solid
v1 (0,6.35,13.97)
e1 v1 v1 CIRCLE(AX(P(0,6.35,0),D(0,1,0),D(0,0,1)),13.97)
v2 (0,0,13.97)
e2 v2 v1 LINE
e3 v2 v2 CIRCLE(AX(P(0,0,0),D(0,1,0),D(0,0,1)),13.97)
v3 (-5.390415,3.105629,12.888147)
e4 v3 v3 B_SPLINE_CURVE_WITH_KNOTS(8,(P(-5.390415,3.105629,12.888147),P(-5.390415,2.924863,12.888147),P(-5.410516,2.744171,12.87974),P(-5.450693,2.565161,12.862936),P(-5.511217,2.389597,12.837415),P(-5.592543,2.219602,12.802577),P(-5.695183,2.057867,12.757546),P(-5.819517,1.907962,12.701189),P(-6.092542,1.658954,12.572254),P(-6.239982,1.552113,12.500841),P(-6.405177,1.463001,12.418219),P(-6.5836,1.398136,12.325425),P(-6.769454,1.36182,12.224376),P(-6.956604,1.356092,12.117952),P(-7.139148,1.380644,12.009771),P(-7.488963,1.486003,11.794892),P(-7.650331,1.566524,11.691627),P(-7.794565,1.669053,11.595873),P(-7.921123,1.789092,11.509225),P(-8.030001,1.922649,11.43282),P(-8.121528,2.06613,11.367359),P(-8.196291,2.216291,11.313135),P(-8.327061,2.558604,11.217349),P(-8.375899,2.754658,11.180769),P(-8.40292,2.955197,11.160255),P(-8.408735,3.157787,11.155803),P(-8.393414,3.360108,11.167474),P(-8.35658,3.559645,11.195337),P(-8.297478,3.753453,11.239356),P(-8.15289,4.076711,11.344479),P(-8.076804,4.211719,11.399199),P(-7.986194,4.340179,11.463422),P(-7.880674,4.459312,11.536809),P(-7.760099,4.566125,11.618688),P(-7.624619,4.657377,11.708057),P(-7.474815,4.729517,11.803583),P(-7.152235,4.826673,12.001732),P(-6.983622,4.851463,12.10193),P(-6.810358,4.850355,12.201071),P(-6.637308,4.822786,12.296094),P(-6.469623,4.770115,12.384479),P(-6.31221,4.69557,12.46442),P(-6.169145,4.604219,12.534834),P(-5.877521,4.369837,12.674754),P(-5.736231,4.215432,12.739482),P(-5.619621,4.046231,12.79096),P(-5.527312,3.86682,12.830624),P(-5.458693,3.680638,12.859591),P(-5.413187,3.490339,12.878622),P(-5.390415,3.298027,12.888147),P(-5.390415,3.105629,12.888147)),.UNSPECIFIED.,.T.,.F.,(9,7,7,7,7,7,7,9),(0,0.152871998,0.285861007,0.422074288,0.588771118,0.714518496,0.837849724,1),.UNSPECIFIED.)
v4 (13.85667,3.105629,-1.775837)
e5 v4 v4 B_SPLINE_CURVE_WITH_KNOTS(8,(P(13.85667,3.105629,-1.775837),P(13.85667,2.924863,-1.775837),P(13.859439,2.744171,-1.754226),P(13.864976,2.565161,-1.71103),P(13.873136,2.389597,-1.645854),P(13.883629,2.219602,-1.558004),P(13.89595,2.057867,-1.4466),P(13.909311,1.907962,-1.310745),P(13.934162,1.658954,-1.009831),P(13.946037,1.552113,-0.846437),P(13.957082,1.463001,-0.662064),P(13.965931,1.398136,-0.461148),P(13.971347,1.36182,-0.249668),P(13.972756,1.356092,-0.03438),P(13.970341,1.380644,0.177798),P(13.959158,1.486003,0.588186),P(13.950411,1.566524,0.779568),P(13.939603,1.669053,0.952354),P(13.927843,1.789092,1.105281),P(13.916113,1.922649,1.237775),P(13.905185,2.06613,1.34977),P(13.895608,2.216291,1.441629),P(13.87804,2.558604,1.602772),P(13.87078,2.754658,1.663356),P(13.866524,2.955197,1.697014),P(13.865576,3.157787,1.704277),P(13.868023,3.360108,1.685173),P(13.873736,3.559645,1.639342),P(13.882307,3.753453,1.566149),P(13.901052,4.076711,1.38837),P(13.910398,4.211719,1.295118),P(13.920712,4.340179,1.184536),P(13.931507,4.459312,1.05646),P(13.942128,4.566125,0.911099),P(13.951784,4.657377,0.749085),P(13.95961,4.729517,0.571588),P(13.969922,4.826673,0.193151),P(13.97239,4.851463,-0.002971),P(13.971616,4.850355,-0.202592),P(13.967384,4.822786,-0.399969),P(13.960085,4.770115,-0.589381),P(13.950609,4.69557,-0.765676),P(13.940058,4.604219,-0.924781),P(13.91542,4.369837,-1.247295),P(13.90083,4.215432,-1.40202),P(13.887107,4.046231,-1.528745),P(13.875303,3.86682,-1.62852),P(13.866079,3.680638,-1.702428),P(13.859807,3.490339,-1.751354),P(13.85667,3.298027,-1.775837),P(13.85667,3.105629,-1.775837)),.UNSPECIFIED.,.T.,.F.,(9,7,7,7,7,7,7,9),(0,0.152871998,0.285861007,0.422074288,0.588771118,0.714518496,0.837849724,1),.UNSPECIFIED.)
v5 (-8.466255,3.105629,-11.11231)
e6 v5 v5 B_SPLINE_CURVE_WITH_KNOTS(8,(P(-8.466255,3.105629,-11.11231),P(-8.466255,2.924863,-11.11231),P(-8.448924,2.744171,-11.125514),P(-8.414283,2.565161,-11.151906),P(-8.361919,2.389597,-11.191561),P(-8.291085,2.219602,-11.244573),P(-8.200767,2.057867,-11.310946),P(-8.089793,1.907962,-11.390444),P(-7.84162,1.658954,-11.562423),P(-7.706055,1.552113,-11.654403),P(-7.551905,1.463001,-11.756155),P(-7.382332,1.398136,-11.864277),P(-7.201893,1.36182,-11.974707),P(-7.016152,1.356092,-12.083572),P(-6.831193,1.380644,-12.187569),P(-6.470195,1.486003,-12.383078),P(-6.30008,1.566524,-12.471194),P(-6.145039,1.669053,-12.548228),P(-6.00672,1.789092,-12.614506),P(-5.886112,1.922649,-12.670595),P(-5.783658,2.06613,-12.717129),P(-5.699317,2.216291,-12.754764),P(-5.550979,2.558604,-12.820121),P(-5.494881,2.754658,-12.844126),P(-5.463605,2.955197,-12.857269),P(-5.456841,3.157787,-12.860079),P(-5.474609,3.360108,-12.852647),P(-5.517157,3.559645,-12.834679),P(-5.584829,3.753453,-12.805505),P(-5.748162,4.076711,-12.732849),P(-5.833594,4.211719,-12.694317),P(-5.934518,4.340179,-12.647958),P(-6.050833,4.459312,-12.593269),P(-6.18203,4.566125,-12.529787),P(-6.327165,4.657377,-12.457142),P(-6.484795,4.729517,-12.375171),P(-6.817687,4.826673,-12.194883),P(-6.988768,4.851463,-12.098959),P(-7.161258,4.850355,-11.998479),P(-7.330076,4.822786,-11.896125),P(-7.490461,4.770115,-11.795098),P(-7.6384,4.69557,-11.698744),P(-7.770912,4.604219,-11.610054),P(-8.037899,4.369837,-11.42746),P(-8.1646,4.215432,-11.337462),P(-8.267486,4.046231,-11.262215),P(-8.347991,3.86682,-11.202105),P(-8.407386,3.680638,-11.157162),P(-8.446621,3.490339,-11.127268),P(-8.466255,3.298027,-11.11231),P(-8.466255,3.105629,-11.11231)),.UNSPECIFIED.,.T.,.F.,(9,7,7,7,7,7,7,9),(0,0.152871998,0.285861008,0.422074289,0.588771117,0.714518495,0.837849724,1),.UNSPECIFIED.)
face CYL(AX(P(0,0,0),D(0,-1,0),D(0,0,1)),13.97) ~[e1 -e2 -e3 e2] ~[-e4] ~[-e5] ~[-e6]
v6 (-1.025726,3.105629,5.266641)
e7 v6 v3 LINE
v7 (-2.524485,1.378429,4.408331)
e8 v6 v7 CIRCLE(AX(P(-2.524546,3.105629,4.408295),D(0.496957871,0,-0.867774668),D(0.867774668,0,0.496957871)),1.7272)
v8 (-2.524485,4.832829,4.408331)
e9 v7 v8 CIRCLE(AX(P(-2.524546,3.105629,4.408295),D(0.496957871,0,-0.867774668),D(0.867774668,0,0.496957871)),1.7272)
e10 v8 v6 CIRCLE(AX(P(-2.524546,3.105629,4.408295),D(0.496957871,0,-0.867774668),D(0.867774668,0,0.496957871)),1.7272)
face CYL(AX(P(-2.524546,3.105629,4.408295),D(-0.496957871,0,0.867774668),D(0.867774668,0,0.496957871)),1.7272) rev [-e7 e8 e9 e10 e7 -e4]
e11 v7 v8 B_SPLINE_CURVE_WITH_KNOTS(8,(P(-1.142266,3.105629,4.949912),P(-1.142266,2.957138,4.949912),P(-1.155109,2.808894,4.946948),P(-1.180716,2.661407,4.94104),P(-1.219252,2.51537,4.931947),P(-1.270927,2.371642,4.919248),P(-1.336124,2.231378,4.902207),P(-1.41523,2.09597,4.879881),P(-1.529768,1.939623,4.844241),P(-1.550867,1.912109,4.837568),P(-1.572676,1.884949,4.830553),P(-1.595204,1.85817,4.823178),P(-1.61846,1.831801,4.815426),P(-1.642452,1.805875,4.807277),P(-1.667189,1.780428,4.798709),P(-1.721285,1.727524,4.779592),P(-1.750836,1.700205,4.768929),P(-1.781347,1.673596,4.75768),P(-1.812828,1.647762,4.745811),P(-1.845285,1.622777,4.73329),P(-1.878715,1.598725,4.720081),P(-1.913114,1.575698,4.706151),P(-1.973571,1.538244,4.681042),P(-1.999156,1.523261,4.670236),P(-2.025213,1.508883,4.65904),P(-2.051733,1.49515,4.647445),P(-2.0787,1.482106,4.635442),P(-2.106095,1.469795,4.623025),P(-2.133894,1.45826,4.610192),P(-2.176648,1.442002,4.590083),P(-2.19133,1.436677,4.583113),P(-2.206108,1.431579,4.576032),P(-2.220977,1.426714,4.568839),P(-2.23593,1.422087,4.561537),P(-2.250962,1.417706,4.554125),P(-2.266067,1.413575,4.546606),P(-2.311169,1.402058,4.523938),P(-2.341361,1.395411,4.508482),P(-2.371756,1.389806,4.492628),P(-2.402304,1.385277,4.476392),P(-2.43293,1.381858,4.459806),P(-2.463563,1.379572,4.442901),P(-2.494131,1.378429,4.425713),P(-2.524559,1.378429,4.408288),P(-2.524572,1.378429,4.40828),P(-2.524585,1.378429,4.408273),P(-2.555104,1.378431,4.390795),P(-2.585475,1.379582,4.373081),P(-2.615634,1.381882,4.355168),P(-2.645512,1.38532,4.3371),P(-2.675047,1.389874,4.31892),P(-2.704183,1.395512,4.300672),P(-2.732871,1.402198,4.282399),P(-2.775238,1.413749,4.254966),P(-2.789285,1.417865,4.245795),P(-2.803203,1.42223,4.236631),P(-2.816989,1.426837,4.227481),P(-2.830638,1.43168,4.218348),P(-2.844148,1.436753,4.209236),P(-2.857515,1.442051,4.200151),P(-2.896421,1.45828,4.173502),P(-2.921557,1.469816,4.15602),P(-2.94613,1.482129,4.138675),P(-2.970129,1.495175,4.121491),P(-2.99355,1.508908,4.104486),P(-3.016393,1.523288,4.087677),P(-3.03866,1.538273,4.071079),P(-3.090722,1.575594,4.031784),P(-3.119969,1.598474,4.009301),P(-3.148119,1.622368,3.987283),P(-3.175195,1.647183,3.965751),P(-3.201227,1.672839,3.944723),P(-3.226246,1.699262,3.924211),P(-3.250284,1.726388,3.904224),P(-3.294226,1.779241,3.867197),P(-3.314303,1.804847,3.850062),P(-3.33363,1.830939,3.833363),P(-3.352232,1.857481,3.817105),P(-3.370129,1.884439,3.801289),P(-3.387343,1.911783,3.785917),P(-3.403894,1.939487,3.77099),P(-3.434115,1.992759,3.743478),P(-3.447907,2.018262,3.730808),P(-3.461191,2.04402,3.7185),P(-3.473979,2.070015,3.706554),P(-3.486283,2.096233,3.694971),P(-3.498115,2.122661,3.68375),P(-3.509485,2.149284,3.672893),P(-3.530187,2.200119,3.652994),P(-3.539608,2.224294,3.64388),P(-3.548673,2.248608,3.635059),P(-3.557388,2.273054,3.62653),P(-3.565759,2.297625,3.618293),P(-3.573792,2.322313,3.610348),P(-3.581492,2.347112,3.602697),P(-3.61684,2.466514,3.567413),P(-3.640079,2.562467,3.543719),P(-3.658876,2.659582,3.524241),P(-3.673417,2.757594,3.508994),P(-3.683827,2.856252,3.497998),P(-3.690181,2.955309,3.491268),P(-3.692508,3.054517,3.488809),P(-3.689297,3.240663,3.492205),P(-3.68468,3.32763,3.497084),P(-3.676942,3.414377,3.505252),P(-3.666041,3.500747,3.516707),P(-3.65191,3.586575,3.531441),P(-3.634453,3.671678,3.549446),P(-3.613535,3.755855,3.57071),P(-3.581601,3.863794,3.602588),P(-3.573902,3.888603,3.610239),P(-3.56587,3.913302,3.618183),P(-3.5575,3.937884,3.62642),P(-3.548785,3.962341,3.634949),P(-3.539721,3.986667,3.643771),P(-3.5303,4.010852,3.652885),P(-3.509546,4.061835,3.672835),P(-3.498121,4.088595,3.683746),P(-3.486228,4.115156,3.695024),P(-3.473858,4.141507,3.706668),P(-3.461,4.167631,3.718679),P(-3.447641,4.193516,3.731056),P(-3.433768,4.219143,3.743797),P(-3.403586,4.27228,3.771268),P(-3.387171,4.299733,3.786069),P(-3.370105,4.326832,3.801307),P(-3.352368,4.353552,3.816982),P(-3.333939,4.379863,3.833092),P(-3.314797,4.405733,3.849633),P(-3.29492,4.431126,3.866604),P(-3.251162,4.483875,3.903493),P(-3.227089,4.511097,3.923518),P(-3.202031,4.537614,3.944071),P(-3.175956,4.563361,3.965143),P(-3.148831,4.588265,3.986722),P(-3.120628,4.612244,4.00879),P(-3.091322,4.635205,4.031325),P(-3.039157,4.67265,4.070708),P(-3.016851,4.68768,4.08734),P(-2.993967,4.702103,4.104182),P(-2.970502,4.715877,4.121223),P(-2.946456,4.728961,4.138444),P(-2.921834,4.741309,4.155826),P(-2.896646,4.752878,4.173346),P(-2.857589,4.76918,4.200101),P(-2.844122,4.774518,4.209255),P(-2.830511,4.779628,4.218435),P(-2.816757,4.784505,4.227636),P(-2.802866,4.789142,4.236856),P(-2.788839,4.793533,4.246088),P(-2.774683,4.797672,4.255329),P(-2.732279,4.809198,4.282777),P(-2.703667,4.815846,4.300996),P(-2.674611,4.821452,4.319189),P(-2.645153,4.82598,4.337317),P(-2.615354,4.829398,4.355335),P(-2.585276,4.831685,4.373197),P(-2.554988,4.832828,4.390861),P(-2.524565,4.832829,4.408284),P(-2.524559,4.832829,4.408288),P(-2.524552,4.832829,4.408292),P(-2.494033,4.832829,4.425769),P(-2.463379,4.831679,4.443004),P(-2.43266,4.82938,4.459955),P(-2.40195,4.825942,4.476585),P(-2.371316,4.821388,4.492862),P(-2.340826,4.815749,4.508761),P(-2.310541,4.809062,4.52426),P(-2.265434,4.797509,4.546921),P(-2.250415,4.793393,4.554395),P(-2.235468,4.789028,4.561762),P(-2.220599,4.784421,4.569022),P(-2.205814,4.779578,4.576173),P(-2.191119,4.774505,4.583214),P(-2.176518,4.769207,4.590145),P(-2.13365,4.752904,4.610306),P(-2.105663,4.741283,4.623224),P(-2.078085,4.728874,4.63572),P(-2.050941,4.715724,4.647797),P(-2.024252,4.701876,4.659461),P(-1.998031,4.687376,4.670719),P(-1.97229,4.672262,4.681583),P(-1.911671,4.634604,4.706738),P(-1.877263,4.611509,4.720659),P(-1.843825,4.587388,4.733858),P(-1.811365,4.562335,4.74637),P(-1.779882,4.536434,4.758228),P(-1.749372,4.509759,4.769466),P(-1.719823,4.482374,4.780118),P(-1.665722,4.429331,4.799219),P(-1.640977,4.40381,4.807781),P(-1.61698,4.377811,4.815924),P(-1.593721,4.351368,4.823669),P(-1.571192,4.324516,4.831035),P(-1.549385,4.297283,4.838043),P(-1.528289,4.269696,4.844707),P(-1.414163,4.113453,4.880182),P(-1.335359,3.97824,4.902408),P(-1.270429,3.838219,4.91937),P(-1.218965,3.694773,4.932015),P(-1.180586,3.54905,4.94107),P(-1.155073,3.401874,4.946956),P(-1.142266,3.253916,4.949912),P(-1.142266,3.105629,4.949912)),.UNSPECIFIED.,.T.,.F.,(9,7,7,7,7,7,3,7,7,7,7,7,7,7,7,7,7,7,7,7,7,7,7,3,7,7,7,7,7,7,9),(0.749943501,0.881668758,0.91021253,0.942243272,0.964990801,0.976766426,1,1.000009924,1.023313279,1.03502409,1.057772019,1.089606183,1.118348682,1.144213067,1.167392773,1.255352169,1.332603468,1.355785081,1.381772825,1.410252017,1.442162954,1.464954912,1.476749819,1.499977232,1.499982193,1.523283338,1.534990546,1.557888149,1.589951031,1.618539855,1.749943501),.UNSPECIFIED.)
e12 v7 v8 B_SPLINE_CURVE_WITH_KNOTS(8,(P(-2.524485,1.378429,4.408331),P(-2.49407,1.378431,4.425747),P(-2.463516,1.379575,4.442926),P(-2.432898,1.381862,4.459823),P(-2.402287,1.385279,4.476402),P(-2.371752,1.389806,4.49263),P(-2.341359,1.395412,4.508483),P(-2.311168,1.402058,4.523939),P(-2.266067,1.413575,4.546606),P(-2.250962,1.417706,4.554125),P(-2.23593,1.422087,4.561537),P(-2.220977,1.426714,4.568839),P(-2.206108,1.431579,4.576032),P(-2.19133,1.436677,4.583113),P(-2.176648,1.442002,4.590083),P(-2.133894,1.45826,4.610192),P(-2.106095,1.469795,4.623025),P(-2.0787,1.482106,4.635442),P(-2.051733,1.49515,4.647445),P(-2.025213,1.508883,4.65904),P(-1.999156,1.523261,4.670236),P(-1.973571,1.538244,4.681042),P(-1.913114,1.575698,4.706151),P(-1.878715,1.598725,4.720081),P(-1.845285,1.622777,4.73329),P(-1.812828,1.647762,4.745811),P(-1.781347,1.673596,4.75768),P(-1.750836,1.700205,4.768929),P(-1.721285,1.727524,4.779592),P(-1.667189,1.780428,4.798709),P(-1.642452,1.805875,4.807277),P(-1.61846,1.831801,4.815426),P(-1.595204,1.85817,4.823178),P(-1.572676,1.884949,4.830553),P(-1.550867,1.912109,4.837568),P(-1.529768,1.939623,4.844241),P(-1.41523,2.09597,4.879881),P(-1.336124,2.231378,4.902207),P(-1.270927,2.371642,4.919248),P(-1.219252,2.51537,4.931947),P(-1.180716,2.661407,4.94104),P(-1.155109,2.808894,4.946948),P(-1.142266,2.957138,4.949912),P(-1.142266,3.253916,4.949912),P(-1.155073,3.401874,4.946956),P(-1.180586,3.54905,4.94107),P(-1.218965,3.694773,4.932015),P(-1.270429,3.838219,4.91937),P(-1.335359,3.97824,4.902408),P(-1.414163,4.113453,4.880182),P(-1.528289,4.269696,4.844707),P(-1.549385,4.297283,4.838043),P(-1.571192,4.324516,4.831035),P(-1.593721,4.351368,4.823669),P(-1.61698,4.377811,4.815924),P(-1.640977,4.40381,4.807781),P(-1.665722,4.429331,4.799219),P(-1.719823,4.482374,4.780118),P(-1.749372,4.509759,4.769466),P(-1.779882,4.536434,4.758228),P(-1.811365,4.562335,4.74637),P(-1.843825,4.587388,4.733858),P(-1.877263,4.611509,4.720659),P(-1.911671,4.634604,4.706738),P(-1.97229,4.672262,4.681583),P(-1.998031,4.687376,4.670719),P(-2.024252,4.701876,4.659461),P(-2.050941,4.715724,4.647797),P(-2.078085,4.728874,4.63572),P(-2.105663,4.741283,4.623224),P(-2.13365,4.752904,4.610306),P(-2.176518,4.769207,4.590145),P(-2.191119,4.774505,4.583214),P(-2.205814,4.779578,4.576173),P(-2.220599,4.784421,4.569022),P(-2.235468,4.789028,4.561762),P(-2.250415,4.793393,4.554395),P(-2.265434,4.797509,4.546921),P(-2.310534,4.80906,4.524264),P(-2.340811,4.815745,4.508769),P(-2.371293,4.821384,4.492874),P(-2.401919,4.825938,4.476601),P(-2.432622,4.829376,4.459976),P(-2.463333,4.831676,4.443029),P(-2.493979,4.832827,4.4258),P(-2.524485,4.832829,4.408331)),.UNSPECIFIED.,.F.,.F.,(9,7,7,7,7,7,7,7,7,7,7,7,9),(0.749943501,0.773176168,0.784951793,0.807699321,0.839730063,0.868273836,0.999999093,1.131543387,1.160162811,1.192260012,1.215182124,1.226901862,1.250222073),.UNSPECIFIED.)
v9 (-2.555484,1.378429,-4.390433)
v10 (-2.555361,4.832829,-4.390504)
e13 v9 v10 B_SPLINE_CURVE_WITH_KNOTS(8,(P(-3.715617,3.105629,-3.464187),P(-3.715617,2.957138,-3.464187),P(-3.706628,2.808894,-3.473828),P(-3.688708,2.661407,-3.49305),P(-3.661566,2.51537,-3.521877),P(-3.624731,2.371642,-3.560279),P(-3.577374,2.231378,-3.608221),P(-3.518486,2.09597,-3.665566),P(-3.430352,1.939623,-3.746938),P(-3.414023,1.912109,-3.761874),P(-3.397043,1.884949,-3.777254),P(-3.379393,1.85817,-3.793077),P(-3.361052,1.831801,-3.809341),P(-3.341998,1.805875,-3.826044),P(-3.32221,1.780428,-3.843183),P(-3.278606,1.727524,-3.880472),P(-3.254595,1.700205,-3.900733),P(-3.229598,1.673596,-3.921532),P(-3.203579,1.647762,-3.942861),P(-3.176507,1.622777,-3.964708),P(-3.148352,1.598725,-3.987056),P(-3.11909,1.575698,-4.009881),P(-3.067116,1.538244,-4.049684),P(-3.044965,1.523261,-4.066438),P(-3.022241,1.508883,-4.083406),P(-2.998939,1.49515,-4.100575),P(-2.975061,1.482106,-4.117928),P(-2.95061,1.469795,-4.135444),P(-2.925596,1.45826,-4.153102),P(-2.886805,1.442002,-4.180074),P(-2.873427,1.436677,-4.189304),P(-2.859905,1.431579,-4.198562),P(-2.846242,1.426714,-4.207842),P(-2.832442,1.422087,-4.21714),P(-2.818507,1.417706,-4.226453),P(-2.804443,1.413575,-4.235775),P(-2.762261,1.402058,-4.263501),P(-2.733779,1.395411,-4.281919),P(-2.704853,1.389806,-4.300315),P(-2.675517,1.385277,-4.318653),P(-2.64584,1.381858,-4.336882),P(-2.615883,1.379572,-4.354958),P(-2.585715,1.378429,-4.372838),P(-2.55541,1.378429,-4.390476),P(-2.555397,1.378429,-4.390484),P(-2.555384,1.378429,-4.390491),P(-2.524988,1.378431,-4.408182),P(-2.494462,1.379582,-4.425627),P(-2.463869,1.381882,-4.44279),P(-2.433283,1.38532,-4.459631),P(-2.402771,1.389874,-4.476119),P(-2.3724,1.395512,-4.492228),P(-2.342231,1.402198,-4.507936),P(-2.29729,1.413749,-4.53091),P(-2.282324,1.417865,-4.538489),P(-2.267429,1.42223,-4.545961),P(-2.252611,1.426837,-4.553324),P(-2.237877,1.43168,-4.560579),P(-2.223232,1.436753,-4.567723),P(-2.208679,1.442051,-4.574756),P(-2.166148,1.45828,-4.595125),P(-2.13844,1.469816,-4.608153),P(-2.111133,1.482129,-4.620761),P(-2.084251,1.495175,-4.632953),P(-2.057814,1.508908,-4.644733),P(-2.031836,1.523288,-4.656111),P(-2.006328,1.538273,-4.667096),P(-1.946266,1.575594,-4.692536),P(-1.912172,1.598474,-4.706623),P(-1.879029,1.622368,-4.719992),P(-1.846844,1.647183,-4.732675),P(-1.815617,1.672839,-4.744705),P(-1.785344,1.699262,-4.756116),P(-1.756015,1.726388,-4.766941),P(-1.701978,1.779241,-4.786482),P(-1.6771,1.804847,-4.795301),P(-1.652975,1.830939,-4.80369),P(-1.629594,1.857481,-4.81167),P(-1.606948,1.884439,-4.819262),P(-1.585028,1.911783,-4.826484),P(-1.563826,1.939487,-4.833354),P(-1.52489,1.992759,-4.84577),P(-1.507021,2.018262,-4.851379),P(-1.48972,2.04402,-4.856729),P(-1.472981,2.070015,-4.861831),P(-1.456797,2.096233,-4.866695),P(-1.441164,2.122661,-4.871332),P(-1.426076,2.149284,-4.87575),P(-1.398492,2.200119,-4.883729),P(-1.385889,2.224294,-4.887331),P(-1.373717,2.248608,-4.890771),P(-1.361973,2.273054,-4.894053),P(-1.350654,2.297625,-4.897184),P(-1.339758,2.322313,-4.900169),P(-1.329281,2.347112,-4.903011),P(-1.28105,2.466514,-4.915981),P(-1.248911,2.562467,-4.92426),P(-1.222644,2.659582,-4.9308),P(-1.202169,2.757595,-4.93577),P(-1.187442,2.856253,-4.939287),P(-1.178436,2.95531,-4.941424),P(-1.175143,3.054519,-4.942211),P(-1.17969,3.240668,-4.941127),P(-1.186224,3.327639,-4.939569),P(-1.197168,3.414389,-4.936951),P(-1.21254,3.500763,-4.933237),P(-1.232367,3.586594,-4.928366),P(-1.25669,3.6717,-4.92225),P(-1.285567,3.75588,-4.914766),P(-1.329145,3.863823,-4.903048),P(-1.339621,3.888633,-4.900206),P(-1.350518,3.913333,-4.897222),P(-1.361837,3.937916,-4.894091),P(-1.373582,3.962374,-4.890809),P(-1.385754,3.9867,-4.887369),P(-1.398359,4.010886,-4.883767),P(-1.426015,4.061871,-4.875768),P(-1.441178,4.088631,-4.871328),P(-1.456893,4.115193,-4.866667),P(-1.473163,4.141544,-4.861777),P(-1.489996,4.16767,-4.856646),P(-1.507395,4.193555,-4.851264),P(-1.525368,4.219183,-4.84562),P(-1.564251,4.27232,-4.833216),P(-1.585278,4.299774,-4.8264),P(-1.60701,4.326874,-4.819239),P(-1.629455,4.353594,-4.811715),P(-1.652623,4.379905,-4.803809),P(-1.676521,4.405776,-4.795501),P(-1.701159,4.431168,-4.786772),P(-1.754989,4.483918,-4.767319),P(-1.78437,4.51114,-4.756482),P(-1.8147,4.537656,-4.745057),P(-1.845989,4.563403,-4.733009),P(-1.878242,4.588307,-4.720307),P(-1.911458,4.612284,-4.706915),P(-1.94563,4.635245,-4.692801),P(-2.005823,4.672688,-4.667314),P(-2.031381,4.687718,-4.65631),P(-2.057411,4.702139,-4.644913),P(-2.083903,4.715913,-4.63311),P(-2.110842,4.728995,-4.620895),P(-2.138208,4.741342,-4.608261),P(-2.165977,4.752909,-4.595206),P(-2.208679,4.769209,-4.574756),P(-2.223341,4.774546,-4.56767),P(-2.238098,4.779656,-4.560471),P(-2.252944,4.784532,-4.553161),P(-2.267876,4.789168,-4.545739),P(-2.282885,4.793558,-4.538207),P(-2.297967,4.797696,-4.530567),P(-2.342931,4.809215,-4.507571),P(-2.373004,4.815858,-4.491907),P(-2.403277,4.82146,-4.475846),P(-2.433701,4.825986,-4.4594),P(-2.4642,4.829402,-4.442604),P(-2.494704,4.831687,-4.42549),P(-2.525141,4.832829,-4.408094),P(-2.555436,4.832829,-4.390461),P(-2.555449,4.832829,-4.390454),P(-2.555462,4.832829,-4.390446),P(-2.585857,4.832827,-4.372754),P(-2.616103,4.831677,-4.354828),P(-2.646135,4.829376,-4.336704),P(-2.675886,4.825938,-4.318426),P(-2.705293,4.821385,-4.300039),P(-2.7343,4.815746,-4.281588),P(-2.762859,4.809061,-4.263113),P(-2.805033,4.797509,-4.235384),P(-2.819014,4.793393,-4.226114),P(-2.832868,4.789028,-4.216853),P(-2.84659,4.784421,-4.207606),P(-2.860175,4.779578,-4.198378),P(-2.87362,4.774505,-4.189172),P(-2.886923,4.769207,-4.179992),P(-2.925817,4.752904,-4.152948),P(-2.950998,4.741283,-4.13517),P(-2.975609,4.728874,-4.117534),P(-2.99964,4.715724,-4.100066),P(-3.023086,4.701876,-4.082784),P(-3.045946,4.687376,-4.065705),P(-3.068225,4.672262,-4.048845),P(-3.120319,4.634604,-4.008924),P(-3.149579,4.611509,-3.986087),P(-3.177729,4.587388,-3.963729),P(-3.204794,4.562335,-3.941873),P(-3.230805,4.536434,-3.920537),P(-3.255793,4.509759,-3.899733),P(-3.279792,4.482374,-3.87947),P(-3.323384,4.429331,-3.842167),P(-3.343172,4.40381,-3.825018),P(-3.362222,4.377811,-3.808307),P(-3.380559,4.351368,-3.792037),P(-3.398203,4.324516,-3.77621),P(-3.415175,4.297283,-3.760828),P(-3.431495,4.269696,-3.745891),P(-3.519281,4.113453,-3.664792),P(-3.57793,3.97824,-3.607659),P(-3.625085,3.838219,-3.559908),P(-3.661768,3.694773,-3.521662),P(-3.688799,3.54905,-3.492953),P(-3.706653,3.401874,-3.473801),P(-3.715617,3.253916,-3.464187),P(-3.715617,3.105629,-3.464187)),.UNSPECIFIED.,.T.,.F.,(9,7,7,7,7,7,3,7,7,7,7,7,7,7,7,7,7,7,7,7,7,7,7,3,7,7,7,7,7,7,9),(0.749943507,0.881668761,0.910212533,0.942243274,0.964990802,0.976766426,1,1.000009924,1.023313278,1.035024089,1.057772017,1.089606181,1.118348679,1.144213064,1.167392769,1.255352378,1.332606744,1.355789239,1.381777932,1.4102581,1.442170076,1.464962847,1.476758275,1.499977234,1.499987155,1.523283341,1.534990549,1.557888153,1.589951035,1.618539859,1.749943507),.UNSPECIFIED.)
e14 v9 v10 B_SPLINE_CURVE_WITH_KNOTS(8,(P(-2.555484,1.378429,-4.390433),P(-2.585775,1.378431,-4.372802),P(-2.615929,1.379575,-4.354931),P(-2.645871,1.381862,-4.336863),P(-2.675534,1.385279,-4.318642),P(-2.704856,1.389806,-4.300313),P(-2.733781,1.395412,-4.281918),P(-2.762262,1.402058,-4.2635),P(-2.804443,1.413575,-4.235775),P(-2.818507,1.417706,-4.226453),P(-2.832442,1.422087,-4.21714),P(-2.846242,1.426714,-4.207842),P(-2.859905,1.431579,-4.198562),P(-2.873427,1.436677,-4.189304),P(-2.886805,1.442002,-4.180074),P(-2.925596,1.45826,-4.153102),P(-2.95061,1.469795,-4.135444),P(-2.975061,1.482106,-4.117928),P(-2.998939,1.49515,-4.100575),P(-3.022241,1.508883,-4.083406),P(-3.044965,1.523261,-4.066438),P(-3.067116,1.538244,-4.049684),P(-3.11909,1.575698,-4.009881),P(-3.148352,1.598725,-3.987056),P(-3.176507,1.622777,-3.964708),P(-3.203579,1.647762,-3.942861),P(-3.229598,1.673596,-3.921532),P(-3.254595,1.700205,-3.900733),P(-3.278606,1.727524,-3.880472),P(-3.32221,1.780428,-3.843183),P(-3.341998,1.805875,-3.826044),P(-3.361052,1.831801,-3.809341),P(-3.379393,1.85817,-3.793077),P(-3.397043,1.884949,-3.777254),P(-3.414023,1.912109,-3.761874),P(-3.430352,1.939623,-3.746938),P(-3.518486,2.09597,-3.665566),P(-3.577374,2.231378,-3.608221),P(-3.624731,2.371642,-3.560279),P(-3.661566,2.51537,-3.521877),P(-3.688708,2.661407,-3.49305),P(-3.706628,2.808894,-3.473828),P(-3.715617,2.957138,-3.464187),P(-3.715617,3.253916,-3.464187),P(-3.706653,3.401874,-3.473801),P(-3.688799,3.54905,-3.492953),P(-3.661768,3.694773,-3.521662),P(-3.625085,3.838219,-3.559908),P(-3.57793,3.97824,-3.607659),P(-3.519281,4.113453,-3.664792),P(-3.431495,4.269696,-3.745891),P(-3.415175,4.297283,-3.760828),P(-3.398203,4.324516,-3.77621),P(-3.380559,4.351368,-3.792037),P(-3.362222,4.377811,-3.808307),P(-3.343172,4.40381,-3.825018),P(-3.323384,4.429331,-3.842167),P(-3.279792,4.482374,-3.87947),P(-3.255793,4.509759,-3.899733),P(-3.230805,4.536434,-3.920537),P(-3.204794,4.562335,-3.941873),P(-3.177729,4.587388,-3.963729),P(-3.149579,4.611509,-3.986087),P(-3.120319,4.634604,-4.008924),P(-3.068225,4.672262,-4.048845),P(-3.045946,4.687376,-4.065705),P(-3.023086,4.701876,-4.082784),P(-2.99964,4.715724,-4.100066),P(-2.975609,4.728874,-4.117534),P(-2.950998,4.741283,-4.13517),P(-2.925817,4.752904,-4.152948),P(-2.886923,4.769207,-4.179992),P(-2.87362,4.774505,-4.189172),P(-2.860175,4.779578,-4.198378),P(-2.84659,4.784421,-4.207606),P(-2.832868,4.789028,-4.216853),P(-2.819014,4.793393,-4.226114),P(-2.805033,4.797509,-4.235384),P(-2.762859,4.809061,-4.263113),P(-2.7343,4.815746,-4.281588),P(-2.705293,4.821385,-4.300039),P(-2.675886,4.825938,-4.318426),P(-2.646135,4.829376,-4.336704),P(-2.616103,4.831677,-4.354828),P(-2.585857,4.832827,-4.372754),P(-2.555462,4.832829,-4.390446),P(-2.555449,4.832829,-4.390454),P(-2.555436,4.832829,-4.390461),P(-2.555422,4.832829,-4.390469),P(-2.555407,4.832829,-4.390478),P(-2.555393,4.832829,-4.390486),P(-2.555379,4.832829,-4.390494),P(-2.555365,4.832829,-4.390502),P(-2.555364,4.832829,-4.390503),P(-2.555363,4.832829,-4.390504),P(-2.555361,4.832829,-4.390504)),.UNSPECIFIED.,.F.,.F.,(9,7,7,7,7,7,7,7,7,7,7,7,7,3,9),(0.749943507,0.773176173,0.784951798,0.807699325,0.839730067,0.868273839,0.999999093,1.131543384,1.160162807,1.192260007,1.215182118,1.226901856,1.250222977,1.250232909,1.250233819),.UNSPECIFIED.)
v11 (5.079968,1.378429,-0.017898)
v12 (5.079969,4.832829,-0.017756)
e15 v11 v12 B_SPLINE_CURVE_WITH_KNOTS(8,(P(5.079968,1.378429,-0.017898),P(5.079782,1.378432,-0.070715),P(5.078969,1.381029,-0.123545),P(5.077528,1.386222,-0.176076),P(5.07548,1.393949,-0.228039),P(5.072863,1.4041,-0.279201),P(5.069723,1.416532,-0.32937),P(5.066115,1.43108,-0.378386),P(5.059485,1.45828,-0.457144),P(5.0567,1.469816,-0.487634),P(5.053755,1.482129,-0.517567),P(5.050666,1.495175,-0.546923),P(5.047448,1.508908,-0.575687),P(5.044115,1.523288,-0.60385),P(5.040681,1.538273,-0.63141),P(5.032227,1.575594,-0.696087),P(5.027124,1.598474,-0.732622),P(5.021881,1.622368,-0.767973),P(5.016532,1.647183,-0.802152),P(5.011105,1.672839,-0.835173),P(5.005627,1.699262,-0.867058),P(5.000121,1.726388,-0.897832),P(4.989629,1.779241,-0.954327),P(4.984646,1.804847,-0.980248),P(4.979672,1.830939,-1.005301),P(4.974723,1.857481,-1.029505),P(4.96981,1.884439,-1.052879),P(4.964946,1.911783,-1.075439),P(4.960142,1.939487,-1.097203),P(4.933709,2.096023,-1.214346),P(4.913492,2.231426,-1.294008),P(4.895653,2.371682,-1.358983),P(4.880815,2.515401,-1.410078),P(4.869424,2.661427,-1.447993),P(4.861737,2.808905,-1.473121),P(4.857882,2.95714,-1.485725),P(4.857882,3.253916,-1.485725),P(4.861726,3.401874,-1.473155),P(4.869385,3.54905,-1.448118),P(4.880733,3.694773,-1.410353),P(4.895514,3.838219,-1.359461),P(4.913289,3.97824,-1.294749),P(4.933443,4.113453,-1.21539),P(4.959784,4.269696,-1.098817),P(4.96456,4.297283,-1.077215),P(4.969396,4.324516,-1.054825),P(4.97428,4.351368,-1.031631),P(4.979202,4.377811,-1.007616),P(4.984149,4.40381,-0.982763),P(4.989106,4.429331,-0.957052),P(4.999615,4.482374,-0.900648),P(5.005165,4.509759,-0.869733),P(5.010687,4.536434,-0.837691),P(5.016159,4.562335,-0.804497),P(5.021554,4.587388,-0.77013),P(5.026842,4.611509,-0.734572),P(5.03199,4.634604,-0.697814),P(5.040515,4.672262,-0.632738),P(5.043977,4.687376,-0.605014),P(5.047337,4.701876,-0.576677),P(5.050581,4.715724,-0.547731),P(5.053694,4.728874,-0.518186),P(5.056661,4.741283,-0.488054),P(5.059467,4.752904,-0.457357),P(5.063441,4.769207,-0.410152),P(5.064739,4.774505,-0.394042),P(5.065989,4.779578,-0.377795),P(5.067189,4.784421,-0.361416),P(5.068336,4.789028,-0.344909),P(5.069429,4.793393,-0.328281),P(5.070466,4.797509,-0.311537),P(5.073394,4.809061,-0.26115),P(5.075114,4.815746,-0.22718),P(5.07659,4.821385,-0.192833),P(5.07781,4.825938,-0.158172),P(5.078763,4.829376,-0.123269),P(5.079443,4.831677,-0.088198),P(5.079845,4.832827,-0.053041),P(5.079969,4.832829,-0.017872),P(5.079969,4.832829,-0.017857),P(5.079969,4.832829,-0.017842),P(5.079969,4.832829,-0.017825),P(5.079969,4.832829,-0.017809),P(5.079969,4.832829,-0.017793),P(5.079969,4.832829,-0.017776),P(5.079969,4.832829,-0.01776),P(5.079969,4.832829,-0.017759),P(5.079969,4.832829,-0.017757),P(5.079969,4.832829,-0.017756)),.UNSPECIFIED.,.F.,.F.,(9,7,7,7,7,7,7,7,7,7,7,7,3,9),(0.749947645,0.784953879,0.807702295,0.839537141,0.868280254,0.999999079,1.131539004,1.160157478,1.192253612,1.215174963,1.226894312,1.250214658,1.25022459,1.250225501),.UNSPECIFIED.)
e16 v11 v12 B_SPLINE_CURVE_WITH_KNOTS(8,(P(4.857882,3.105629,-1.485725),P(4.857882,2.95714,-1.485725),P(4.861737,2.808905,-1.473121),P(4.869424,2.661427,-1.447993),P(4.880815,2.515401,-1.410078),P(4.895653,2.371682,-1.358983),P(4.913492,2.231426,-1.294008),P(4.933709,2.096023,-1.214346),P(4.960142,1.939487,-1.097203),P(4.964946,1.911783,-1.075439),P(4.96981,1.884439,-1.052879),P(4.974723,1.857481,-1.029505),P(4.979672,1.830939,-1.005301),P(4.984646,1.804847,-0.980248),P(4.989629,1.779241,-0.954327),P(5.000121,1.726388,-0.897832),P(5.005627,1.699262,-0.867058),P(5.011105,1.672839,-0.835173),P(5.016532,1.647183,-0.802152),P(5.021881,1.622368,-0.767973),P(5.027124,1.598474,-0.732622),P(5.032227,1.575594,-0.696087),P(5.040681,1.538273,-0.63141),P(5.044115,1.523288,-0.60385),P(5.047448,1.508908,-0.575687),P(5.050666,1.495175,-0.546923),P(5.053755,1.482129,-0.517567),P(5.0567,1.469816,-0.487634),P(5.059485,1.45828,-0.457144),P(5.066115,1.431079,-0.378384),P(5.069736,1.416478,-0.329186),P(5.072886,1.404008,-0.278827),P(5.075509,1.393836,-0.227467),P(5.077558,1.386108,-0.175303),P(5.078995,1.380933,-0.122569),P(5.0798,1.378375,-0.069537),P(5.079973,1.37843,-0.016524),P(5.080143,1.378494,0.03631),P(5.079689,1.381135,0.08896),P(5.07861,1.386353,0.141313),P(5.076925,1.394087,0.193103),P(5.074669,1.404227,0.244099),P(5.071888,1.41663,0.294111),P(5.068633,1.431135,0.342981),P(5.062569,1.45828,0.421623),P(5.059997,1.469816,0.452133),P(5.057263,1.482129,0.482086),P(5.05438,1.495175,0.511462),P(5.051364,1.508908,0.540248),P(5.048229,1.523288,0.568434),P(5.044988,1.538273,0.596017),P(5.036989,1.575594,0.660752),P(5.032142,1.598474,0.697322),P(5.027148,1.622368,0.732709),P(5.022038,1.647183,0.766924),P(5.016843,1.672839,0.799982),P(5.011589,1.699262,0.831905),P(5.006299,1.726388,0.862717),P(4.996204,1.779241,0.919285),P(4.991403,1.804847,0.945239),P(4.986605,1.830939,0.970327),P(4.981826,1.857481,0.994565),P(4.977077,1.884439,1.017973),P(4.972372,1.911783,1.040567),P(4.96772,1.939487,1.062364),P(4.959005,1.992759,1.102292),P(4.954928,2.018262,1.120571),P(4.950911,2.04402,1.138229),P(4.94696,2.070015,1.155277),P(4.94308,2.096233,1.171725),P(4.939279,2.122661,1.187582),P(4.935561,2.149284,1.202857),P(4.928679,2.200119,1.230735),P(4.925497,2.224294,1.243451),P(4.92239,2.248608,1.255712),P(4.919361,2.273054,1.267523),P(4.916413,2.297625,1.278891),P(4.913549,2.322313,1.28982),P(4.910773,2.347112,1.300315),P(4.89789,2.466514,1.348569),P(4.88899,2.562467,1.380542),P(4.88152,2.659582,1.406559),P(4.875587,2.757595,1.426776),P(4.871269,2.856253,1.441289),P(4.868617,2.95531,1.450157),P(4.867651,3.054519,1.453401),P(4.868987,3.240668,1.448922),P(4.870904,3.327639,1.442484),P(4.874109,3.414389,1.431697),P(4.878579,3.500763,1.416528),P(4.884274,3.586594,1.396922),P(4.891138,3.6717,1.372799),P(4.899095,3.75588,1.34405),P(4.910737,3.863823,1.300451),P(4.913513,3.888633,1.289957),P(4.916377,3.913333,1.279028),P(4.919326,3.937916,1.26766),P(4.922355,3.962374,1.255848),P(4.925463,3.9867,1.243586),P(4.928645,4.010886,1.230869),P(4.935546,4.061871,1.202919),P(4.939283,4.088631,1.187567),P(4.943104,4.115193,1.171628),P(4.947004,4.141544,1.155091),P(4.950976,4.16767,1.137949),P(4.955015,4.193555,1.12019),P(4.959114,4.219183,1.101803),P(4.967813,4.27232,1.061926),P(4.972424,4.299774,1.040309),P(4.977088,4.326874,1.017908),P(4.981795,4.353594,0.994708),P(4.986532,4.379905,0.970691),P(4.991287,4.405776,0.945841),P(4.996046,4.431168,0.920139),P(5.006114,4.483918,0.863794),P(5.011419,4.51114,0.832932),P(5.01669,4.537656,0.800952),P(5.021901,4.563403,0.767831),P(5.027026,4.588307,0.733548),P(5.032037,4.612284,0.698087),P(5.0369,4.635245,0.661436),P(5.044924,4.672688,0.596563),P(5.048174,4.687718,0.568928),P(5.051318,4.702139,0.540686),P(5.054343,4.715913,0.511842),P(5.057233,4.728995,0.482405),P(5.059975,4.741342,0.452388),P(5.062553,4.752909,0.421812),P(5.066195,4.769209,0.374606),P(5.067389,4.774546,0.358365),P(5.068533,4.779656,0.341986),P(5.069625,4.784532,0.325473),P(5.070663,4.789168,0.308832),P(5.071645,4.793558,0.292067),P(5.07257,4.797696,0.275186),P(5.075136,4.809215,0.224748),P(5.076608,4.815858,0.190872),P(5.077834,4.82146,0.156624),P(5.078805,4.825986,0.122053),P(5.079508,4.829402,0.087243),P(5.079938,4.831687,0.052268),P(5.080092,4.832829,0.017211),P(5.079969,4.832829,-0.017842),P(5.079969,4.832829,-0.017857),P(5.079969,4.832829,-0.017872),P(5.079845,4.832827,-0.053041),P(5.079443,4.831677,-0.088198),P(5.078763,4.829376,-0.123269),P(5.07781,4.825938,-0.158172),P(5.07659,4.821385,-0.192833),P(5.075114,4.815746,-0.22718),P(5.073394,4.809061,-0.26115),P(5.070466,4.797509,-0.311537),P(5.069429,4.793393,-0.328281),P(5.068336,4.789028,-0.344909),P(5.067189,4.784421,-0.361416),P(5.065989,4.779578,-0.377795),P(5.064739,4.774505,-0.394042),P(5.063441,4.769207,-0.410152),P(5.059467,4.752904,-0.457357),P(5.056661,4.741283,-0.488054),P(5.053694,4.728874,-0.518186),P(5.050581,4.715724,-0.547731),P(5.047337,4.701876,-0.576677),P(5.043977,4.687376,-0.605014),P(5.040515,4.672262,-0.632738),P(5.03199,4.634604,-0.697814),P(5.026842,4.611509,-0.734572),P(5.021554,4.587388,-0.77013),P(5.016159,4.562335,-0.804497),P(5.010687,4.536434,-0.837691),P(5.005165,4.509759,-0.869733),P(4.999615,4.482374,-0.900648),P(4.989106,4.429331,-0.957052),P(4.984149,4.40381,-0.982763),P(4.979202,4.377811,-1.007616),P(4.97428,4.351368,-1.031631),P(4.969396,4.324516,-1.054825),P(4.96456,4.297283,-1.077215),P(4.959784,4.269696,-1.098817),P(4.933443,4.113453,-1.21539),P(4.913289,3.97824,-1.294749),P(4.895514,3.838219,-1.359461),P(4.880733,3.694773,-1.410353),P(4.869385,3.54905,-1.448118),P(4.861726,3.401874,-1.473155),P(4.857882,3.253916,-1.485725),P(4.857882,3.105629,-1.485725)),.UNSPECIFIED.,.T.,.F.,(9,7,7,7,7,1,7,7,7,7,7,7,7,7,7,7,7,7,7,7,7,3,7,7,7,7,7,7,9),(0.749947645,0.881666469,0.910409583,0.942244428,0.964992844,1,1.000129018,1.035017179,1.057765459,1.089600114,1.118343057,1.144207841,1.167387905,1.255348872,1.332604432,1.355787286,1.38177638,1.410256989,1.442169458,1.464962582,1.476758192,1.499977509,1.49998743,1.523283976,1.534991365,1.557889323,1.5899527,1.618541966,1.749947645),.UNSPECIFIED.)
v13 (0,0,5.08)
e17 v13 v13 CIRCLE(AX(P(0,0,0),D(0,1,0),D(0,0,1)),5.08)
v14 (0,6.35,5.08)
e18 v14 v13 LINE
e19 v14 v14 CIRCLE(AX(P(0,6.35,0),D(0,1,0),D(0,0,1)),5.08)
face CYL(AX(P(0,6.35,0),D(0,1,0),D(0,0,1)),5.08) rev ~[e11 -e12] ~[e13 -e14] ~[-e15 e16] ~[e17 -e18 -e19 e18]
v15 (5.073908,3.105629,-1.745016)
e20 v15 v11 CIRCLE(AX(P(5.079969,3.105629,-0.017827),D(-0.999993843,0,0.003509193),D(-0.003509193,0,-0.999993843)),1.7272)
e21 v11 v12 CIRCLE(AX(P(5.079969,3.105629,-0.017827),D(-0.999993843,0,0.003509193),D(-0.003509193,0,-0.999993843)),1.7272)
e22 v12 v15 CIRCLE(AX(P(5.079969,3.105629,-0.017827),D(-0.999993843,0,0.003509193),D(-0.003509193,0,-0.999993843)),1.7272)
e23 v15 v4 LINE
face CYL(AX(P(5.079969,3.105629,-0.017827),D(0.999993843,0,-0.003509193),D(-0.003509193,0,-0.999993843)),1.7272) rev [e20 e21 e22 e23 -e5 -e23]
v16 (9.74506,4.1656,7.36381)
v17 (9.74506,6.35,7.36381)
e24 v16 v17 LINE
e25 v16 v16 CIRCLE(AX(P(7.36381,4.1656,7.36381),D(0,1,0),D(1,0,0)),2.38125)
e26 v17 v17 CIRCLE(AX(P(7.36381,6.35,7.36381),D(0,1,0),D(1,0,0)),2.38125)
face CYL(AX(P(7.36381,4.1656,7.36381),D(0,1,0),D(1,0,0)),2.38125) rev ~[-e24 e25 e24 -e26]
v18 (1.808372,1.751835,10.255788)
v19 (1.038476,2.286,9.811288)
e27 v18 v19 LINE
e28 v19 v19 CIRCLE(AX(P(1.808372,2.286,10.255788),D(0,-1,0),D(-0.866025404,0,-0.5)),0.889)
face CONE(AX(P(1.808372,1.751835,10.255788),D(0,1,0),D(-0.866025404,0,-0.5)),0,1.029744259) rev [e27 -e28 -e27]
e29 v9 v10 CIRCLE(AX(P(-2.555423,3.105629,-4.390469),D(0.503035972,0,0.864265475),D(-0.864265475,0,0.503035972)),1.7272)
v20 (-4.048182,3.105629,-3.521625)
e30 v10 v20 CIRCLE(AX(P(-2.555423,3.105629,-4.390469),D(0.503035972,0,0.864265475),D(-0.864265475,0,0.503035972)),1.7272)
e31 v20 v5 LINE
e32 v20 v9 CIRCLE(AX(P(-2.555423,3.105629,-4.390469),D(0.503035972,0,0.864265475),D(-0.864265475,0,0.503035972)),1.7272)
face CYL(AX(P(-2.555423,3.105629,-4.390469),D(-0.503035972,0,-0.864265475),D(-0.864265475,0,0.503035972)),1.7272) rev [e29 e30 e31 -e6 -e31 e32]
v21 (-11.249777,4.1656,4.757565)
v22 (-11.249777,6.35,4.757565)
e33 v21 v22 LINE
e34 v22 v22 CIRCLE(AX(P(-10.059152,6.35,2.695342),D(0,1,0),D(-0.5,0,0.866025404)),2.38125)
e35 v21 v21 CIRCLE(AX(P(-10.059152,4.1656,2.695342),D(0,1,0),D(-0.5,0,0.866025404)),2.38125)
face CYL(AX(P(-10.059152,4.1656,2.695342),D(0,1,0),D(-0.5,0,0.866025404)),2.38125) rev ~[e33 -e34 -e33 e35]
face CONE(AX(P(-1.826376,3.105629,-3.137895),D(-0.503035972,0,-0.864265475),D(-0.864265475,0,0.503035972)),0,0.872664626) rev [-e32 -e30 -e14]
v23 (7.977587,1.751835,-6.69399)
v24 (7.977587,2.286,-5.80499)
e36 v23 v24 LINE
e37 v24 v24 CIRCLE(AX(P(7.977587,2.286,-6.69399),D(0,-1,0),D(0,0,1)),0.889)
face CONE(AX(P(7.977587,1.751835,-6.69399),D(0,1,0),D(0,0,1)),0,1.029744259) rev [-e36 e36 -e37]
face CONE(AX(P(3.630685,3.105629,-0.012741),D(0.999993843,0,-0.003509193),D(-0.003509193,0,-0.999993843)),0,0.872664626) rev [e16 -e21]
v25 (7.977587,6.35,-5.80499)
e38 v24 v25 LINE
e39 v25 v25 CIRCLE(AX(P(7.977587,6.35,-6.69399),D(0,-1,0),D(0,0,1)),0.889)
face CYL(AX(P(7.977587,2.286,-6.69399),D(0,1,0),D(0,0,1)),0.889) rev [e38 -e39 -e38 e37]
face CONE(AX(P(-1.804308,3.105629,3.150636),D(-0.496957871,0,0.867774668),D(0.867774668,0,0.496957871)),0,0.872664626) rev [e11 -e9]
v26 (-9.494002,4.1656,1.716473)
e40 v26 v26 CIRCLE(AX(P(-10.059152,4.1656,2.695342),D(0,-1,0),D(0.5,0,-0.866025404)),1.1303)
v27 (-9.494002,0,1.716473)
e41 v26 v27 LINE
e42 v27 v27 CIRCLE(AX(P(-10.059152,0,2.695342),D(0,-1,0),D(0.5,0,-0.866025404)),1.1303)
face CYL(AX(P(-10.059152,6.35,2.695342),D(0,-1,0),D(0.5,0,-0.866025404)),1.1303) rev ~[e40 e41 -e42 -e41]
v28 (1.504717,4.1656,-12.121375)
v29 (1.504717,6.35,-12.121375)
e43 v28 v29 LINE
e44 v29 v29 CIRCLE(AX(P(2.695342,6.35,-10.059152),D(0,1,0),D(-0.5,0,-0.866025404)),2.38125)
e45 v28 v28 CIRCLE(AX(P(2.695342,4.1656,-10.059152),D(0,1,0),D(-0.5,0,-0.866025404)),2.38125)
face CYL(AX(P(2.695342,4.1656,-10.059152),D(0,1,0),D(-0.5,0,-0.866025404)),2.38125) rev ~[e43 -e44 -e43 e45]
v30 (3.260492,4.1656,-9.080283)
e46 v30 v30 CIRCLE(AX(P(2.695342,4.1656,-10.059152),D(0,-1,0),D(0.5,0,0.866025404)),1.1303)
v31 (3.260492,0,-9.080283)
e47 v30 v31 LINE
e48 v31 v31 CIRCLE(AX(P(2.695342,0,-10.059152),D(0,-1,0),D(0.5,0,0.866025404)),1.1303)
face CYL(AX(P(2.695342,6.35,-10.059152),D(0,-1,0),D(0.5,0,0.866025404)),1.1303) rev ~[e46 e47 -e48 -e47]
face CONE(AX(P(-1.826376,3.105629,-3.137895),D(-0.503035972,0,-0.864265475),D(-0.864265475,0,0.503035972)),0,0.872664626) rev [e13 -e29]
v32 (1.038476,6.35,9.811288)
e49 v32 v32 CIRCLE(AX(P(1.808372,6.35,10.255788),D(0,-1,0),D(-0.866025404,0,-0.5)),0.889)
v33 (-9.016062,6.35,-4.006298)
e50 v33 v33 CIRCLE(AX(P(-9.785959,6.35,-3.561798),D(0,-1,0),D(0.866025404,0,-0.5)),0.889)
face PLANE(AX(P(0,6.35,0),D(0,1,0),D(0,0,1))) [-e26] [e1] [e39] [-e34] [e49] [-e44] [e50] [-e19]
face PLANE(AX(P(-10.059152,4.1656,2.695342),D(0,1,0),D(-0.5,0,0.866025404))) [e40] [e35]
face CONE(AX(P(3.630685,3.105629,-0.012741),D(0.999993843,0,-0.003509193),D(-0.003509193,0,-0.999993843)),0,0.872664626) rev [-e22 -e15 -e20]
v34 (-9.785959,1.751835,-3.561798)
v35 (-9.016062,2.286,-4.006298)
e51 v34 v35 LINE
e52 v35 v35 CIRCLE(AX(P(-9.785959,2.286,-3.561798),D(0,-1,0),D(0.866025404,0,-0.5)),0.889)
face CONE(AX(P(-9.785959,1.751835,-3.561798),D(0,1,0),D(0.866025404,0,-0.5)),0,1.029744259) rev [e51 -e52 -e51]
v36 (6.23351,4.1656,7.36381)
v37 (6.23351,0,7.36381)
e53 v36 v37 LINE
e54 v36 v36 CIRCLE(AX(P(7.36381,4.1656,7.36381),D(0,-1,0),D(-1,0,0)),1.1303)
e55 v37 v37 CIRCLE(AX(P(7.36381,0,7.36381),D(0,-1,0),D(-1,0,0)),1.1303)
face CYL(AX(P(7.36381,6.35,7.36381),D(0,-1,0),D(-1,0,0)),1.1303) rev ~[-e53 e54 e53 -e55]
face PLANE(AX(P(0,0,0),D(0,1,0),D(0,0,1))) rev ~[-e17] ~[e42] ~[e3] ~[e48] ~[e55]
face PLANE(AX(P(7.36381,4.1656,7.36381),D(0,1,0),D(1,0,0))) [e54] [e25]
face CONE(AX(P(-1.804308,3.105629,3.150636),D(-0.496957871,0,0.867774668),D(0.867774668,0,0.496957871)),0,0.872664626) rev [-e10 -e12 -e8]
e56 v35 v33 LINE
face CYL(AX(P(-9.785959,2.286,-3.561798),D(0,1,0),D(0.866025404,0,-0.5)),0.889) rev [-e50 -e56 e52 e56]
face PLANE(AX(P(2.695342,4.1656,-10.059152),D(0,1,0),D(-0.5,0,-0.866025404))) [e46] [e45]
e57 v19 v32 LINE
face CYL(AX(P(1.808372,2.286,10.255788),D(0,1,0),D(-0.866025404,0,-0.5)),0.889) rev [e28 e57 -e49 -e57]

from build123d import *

# Parameters (mm, degrees)
SKETCH1_R                                      = 13.97
BOSS_EXTRUDE1_DEPTH                            = 6.35
CBORE_FOR_2_SOCKET_HEAD_CAP_SCREW1_D           = 2.2606
CBORE_FOR_2_SOCKET_HEAD_CAP_SCREW1_CBORE_D     = 4.7625
CBORE_FOR_2_SOCKET_HEAD_CAP_SCREW1_CBORE_DEPTH = 2.1844
CIRPATTERN1_COUNT                              = 3
CIRPATTERN2_COUNT                              = 3
CIRPATTERN3_COUNT                              = 3
CUT_EXTRUDE2_REACH                             = 22.752
SKETCH16_R                                     = 5.08


with BuildPart() as part:
    # Sketch1 → Boss-Extrude1 (new body)
    with BuildSketch(Plane(origin=(0, 0, 0), x_dir=(1, 0, 0), z_dir=(0, 1, 0))):
        with Locations(Location((0, 0, 0), (0, 0, 270))):
            Circle(SKETCH1_R)
    extrude(amount=BOSS_EXTRUDE1_DEPTH)

    # CBORE for #2 Socket Head Cap Screw1 (through all)
    with Locations(Plane(origin=(0, 6.35, 0), x_dir=(1, 0, 0), z_dir=(0, 1, 0))):
        with Locations((7.363810019, -7.363810019)):
            cbore_for_2_socket_head_cap_screw1 = CounterBoreHole(CBORE_FOR_2_SOCKET_HEAD_CAP_SCREW1_D / 2, CBORE_FOR_2_SOCKET_HEAD_CAP_SCREW1_CBORE_D / 2, CBORE_FOR_2_SOCKET_HEAD_CAP_SCREW1_CBORE_DEPTH)

    # CirPattern1: CBORE for #2 Socket Head Cap Screw1 ×3 about axis
    cirpattern1_axis = Axis((0, 0, 0), (0, 1, 0))
    for i in range(1, CIRPATTERN1_COUNT):
        add(cbore_for_2_socket_head_cap_screw1.rotate(cirpattern1_axis, i * 360 / CIRPATTERN1_COUNT), mode=Mode.SUBTRACT)

    # Sketch10 → Tap Drill for #2-56 Tap2 (revolve, cut)
    with BuildSketch(Plane(origin=(7.977586831, 6.35, -6.693990167), x_dir=(0, 0, 1), z_dir=(1, 0, 0))):
        Polygon((0, 0), (0, 4.59816509), (0.889, 4.064), (0.889, 0), align=None)
    tap_drill_for_2_56_tap2 = revolve(axis=Axis((7.977586831, 12.7, -6.693990167), (0, -1, 0)), mode=Mode.SUBTRACT)

    # CirPattern2: Tap Drill for #2-56 Tap2 ×3 about axis
    cirpattern2_axis = Axis((0, 0, 0), (0, 1, 0))
    for i in range(1, CIRPATTERN2_COUNT):
        add(tap_drill_for_2_56_tap2.rotate(cirpattern2_axis, i * 360 / CIRPATTERN2_COUNT), mode=Mode.SUBTRACT)

    # Sketch15 → Tap Drill for #8-32 Tap2 (revolve, cut)
    with BuildSketch(Plane(origin=(-6.942501454, 3.105629072, 12.122812114), x_dir=(0.8677746681735182, 0, 0.4969578707258195), z_dir=(0, 1, 0))):
        Polygon((0, 0), (0, 10.339292883), (1.7272, 8.89), (1.7272, 0), align=None)
    tap_drill_for_8_32_tap2 = revolve(axis=Axis((-10.098183933, 3.105629072, 17.633181257), (0.4969578707258195, 0, -0.8677746681735182)), mode=Mode.SUBTRACT)

    # CirPattern3: Tap Drill for #8-32 Tap2 ×3 about axis
    cirpattern3_axis = Axis((0, 6.35, 0), (0, -1, 0))
    for i in range(1, CIRPATTERN3_COUNT):
        add(tap_drill_for_8_32_tap2.rotate(cirpattern3_axis, i * 360 / CIRPATTERN3_COUNT), mode=Mode.SUBTRACT)

    # Sketch16 → Cut-Extrude2 (cut, up to next)
    with BuildSketch(Plane(origin=(0, 6.35, 0), x_dir=(1, 0, 0), z_dir=(0, 1, 0)), mode=Mode.PRIVATE) as cut_extrude2_sk1:
        with Locations(Location((0, 0, 0), (0, 0, 270))):
            Circle(SKETCH16_R)
    cut_extrude2_tool1 = extrude(cut_extrude2_sk1.sketch, amount=-CUT_EXTRUDE2_REACH, mode=Mode.PRIVATE) & part.part
    add(cut_extrude2_tool1.solids().sort_by_distance((0, 6.35, 0))[0], mode=Mode.SUBTRACT)


solid = part.part
